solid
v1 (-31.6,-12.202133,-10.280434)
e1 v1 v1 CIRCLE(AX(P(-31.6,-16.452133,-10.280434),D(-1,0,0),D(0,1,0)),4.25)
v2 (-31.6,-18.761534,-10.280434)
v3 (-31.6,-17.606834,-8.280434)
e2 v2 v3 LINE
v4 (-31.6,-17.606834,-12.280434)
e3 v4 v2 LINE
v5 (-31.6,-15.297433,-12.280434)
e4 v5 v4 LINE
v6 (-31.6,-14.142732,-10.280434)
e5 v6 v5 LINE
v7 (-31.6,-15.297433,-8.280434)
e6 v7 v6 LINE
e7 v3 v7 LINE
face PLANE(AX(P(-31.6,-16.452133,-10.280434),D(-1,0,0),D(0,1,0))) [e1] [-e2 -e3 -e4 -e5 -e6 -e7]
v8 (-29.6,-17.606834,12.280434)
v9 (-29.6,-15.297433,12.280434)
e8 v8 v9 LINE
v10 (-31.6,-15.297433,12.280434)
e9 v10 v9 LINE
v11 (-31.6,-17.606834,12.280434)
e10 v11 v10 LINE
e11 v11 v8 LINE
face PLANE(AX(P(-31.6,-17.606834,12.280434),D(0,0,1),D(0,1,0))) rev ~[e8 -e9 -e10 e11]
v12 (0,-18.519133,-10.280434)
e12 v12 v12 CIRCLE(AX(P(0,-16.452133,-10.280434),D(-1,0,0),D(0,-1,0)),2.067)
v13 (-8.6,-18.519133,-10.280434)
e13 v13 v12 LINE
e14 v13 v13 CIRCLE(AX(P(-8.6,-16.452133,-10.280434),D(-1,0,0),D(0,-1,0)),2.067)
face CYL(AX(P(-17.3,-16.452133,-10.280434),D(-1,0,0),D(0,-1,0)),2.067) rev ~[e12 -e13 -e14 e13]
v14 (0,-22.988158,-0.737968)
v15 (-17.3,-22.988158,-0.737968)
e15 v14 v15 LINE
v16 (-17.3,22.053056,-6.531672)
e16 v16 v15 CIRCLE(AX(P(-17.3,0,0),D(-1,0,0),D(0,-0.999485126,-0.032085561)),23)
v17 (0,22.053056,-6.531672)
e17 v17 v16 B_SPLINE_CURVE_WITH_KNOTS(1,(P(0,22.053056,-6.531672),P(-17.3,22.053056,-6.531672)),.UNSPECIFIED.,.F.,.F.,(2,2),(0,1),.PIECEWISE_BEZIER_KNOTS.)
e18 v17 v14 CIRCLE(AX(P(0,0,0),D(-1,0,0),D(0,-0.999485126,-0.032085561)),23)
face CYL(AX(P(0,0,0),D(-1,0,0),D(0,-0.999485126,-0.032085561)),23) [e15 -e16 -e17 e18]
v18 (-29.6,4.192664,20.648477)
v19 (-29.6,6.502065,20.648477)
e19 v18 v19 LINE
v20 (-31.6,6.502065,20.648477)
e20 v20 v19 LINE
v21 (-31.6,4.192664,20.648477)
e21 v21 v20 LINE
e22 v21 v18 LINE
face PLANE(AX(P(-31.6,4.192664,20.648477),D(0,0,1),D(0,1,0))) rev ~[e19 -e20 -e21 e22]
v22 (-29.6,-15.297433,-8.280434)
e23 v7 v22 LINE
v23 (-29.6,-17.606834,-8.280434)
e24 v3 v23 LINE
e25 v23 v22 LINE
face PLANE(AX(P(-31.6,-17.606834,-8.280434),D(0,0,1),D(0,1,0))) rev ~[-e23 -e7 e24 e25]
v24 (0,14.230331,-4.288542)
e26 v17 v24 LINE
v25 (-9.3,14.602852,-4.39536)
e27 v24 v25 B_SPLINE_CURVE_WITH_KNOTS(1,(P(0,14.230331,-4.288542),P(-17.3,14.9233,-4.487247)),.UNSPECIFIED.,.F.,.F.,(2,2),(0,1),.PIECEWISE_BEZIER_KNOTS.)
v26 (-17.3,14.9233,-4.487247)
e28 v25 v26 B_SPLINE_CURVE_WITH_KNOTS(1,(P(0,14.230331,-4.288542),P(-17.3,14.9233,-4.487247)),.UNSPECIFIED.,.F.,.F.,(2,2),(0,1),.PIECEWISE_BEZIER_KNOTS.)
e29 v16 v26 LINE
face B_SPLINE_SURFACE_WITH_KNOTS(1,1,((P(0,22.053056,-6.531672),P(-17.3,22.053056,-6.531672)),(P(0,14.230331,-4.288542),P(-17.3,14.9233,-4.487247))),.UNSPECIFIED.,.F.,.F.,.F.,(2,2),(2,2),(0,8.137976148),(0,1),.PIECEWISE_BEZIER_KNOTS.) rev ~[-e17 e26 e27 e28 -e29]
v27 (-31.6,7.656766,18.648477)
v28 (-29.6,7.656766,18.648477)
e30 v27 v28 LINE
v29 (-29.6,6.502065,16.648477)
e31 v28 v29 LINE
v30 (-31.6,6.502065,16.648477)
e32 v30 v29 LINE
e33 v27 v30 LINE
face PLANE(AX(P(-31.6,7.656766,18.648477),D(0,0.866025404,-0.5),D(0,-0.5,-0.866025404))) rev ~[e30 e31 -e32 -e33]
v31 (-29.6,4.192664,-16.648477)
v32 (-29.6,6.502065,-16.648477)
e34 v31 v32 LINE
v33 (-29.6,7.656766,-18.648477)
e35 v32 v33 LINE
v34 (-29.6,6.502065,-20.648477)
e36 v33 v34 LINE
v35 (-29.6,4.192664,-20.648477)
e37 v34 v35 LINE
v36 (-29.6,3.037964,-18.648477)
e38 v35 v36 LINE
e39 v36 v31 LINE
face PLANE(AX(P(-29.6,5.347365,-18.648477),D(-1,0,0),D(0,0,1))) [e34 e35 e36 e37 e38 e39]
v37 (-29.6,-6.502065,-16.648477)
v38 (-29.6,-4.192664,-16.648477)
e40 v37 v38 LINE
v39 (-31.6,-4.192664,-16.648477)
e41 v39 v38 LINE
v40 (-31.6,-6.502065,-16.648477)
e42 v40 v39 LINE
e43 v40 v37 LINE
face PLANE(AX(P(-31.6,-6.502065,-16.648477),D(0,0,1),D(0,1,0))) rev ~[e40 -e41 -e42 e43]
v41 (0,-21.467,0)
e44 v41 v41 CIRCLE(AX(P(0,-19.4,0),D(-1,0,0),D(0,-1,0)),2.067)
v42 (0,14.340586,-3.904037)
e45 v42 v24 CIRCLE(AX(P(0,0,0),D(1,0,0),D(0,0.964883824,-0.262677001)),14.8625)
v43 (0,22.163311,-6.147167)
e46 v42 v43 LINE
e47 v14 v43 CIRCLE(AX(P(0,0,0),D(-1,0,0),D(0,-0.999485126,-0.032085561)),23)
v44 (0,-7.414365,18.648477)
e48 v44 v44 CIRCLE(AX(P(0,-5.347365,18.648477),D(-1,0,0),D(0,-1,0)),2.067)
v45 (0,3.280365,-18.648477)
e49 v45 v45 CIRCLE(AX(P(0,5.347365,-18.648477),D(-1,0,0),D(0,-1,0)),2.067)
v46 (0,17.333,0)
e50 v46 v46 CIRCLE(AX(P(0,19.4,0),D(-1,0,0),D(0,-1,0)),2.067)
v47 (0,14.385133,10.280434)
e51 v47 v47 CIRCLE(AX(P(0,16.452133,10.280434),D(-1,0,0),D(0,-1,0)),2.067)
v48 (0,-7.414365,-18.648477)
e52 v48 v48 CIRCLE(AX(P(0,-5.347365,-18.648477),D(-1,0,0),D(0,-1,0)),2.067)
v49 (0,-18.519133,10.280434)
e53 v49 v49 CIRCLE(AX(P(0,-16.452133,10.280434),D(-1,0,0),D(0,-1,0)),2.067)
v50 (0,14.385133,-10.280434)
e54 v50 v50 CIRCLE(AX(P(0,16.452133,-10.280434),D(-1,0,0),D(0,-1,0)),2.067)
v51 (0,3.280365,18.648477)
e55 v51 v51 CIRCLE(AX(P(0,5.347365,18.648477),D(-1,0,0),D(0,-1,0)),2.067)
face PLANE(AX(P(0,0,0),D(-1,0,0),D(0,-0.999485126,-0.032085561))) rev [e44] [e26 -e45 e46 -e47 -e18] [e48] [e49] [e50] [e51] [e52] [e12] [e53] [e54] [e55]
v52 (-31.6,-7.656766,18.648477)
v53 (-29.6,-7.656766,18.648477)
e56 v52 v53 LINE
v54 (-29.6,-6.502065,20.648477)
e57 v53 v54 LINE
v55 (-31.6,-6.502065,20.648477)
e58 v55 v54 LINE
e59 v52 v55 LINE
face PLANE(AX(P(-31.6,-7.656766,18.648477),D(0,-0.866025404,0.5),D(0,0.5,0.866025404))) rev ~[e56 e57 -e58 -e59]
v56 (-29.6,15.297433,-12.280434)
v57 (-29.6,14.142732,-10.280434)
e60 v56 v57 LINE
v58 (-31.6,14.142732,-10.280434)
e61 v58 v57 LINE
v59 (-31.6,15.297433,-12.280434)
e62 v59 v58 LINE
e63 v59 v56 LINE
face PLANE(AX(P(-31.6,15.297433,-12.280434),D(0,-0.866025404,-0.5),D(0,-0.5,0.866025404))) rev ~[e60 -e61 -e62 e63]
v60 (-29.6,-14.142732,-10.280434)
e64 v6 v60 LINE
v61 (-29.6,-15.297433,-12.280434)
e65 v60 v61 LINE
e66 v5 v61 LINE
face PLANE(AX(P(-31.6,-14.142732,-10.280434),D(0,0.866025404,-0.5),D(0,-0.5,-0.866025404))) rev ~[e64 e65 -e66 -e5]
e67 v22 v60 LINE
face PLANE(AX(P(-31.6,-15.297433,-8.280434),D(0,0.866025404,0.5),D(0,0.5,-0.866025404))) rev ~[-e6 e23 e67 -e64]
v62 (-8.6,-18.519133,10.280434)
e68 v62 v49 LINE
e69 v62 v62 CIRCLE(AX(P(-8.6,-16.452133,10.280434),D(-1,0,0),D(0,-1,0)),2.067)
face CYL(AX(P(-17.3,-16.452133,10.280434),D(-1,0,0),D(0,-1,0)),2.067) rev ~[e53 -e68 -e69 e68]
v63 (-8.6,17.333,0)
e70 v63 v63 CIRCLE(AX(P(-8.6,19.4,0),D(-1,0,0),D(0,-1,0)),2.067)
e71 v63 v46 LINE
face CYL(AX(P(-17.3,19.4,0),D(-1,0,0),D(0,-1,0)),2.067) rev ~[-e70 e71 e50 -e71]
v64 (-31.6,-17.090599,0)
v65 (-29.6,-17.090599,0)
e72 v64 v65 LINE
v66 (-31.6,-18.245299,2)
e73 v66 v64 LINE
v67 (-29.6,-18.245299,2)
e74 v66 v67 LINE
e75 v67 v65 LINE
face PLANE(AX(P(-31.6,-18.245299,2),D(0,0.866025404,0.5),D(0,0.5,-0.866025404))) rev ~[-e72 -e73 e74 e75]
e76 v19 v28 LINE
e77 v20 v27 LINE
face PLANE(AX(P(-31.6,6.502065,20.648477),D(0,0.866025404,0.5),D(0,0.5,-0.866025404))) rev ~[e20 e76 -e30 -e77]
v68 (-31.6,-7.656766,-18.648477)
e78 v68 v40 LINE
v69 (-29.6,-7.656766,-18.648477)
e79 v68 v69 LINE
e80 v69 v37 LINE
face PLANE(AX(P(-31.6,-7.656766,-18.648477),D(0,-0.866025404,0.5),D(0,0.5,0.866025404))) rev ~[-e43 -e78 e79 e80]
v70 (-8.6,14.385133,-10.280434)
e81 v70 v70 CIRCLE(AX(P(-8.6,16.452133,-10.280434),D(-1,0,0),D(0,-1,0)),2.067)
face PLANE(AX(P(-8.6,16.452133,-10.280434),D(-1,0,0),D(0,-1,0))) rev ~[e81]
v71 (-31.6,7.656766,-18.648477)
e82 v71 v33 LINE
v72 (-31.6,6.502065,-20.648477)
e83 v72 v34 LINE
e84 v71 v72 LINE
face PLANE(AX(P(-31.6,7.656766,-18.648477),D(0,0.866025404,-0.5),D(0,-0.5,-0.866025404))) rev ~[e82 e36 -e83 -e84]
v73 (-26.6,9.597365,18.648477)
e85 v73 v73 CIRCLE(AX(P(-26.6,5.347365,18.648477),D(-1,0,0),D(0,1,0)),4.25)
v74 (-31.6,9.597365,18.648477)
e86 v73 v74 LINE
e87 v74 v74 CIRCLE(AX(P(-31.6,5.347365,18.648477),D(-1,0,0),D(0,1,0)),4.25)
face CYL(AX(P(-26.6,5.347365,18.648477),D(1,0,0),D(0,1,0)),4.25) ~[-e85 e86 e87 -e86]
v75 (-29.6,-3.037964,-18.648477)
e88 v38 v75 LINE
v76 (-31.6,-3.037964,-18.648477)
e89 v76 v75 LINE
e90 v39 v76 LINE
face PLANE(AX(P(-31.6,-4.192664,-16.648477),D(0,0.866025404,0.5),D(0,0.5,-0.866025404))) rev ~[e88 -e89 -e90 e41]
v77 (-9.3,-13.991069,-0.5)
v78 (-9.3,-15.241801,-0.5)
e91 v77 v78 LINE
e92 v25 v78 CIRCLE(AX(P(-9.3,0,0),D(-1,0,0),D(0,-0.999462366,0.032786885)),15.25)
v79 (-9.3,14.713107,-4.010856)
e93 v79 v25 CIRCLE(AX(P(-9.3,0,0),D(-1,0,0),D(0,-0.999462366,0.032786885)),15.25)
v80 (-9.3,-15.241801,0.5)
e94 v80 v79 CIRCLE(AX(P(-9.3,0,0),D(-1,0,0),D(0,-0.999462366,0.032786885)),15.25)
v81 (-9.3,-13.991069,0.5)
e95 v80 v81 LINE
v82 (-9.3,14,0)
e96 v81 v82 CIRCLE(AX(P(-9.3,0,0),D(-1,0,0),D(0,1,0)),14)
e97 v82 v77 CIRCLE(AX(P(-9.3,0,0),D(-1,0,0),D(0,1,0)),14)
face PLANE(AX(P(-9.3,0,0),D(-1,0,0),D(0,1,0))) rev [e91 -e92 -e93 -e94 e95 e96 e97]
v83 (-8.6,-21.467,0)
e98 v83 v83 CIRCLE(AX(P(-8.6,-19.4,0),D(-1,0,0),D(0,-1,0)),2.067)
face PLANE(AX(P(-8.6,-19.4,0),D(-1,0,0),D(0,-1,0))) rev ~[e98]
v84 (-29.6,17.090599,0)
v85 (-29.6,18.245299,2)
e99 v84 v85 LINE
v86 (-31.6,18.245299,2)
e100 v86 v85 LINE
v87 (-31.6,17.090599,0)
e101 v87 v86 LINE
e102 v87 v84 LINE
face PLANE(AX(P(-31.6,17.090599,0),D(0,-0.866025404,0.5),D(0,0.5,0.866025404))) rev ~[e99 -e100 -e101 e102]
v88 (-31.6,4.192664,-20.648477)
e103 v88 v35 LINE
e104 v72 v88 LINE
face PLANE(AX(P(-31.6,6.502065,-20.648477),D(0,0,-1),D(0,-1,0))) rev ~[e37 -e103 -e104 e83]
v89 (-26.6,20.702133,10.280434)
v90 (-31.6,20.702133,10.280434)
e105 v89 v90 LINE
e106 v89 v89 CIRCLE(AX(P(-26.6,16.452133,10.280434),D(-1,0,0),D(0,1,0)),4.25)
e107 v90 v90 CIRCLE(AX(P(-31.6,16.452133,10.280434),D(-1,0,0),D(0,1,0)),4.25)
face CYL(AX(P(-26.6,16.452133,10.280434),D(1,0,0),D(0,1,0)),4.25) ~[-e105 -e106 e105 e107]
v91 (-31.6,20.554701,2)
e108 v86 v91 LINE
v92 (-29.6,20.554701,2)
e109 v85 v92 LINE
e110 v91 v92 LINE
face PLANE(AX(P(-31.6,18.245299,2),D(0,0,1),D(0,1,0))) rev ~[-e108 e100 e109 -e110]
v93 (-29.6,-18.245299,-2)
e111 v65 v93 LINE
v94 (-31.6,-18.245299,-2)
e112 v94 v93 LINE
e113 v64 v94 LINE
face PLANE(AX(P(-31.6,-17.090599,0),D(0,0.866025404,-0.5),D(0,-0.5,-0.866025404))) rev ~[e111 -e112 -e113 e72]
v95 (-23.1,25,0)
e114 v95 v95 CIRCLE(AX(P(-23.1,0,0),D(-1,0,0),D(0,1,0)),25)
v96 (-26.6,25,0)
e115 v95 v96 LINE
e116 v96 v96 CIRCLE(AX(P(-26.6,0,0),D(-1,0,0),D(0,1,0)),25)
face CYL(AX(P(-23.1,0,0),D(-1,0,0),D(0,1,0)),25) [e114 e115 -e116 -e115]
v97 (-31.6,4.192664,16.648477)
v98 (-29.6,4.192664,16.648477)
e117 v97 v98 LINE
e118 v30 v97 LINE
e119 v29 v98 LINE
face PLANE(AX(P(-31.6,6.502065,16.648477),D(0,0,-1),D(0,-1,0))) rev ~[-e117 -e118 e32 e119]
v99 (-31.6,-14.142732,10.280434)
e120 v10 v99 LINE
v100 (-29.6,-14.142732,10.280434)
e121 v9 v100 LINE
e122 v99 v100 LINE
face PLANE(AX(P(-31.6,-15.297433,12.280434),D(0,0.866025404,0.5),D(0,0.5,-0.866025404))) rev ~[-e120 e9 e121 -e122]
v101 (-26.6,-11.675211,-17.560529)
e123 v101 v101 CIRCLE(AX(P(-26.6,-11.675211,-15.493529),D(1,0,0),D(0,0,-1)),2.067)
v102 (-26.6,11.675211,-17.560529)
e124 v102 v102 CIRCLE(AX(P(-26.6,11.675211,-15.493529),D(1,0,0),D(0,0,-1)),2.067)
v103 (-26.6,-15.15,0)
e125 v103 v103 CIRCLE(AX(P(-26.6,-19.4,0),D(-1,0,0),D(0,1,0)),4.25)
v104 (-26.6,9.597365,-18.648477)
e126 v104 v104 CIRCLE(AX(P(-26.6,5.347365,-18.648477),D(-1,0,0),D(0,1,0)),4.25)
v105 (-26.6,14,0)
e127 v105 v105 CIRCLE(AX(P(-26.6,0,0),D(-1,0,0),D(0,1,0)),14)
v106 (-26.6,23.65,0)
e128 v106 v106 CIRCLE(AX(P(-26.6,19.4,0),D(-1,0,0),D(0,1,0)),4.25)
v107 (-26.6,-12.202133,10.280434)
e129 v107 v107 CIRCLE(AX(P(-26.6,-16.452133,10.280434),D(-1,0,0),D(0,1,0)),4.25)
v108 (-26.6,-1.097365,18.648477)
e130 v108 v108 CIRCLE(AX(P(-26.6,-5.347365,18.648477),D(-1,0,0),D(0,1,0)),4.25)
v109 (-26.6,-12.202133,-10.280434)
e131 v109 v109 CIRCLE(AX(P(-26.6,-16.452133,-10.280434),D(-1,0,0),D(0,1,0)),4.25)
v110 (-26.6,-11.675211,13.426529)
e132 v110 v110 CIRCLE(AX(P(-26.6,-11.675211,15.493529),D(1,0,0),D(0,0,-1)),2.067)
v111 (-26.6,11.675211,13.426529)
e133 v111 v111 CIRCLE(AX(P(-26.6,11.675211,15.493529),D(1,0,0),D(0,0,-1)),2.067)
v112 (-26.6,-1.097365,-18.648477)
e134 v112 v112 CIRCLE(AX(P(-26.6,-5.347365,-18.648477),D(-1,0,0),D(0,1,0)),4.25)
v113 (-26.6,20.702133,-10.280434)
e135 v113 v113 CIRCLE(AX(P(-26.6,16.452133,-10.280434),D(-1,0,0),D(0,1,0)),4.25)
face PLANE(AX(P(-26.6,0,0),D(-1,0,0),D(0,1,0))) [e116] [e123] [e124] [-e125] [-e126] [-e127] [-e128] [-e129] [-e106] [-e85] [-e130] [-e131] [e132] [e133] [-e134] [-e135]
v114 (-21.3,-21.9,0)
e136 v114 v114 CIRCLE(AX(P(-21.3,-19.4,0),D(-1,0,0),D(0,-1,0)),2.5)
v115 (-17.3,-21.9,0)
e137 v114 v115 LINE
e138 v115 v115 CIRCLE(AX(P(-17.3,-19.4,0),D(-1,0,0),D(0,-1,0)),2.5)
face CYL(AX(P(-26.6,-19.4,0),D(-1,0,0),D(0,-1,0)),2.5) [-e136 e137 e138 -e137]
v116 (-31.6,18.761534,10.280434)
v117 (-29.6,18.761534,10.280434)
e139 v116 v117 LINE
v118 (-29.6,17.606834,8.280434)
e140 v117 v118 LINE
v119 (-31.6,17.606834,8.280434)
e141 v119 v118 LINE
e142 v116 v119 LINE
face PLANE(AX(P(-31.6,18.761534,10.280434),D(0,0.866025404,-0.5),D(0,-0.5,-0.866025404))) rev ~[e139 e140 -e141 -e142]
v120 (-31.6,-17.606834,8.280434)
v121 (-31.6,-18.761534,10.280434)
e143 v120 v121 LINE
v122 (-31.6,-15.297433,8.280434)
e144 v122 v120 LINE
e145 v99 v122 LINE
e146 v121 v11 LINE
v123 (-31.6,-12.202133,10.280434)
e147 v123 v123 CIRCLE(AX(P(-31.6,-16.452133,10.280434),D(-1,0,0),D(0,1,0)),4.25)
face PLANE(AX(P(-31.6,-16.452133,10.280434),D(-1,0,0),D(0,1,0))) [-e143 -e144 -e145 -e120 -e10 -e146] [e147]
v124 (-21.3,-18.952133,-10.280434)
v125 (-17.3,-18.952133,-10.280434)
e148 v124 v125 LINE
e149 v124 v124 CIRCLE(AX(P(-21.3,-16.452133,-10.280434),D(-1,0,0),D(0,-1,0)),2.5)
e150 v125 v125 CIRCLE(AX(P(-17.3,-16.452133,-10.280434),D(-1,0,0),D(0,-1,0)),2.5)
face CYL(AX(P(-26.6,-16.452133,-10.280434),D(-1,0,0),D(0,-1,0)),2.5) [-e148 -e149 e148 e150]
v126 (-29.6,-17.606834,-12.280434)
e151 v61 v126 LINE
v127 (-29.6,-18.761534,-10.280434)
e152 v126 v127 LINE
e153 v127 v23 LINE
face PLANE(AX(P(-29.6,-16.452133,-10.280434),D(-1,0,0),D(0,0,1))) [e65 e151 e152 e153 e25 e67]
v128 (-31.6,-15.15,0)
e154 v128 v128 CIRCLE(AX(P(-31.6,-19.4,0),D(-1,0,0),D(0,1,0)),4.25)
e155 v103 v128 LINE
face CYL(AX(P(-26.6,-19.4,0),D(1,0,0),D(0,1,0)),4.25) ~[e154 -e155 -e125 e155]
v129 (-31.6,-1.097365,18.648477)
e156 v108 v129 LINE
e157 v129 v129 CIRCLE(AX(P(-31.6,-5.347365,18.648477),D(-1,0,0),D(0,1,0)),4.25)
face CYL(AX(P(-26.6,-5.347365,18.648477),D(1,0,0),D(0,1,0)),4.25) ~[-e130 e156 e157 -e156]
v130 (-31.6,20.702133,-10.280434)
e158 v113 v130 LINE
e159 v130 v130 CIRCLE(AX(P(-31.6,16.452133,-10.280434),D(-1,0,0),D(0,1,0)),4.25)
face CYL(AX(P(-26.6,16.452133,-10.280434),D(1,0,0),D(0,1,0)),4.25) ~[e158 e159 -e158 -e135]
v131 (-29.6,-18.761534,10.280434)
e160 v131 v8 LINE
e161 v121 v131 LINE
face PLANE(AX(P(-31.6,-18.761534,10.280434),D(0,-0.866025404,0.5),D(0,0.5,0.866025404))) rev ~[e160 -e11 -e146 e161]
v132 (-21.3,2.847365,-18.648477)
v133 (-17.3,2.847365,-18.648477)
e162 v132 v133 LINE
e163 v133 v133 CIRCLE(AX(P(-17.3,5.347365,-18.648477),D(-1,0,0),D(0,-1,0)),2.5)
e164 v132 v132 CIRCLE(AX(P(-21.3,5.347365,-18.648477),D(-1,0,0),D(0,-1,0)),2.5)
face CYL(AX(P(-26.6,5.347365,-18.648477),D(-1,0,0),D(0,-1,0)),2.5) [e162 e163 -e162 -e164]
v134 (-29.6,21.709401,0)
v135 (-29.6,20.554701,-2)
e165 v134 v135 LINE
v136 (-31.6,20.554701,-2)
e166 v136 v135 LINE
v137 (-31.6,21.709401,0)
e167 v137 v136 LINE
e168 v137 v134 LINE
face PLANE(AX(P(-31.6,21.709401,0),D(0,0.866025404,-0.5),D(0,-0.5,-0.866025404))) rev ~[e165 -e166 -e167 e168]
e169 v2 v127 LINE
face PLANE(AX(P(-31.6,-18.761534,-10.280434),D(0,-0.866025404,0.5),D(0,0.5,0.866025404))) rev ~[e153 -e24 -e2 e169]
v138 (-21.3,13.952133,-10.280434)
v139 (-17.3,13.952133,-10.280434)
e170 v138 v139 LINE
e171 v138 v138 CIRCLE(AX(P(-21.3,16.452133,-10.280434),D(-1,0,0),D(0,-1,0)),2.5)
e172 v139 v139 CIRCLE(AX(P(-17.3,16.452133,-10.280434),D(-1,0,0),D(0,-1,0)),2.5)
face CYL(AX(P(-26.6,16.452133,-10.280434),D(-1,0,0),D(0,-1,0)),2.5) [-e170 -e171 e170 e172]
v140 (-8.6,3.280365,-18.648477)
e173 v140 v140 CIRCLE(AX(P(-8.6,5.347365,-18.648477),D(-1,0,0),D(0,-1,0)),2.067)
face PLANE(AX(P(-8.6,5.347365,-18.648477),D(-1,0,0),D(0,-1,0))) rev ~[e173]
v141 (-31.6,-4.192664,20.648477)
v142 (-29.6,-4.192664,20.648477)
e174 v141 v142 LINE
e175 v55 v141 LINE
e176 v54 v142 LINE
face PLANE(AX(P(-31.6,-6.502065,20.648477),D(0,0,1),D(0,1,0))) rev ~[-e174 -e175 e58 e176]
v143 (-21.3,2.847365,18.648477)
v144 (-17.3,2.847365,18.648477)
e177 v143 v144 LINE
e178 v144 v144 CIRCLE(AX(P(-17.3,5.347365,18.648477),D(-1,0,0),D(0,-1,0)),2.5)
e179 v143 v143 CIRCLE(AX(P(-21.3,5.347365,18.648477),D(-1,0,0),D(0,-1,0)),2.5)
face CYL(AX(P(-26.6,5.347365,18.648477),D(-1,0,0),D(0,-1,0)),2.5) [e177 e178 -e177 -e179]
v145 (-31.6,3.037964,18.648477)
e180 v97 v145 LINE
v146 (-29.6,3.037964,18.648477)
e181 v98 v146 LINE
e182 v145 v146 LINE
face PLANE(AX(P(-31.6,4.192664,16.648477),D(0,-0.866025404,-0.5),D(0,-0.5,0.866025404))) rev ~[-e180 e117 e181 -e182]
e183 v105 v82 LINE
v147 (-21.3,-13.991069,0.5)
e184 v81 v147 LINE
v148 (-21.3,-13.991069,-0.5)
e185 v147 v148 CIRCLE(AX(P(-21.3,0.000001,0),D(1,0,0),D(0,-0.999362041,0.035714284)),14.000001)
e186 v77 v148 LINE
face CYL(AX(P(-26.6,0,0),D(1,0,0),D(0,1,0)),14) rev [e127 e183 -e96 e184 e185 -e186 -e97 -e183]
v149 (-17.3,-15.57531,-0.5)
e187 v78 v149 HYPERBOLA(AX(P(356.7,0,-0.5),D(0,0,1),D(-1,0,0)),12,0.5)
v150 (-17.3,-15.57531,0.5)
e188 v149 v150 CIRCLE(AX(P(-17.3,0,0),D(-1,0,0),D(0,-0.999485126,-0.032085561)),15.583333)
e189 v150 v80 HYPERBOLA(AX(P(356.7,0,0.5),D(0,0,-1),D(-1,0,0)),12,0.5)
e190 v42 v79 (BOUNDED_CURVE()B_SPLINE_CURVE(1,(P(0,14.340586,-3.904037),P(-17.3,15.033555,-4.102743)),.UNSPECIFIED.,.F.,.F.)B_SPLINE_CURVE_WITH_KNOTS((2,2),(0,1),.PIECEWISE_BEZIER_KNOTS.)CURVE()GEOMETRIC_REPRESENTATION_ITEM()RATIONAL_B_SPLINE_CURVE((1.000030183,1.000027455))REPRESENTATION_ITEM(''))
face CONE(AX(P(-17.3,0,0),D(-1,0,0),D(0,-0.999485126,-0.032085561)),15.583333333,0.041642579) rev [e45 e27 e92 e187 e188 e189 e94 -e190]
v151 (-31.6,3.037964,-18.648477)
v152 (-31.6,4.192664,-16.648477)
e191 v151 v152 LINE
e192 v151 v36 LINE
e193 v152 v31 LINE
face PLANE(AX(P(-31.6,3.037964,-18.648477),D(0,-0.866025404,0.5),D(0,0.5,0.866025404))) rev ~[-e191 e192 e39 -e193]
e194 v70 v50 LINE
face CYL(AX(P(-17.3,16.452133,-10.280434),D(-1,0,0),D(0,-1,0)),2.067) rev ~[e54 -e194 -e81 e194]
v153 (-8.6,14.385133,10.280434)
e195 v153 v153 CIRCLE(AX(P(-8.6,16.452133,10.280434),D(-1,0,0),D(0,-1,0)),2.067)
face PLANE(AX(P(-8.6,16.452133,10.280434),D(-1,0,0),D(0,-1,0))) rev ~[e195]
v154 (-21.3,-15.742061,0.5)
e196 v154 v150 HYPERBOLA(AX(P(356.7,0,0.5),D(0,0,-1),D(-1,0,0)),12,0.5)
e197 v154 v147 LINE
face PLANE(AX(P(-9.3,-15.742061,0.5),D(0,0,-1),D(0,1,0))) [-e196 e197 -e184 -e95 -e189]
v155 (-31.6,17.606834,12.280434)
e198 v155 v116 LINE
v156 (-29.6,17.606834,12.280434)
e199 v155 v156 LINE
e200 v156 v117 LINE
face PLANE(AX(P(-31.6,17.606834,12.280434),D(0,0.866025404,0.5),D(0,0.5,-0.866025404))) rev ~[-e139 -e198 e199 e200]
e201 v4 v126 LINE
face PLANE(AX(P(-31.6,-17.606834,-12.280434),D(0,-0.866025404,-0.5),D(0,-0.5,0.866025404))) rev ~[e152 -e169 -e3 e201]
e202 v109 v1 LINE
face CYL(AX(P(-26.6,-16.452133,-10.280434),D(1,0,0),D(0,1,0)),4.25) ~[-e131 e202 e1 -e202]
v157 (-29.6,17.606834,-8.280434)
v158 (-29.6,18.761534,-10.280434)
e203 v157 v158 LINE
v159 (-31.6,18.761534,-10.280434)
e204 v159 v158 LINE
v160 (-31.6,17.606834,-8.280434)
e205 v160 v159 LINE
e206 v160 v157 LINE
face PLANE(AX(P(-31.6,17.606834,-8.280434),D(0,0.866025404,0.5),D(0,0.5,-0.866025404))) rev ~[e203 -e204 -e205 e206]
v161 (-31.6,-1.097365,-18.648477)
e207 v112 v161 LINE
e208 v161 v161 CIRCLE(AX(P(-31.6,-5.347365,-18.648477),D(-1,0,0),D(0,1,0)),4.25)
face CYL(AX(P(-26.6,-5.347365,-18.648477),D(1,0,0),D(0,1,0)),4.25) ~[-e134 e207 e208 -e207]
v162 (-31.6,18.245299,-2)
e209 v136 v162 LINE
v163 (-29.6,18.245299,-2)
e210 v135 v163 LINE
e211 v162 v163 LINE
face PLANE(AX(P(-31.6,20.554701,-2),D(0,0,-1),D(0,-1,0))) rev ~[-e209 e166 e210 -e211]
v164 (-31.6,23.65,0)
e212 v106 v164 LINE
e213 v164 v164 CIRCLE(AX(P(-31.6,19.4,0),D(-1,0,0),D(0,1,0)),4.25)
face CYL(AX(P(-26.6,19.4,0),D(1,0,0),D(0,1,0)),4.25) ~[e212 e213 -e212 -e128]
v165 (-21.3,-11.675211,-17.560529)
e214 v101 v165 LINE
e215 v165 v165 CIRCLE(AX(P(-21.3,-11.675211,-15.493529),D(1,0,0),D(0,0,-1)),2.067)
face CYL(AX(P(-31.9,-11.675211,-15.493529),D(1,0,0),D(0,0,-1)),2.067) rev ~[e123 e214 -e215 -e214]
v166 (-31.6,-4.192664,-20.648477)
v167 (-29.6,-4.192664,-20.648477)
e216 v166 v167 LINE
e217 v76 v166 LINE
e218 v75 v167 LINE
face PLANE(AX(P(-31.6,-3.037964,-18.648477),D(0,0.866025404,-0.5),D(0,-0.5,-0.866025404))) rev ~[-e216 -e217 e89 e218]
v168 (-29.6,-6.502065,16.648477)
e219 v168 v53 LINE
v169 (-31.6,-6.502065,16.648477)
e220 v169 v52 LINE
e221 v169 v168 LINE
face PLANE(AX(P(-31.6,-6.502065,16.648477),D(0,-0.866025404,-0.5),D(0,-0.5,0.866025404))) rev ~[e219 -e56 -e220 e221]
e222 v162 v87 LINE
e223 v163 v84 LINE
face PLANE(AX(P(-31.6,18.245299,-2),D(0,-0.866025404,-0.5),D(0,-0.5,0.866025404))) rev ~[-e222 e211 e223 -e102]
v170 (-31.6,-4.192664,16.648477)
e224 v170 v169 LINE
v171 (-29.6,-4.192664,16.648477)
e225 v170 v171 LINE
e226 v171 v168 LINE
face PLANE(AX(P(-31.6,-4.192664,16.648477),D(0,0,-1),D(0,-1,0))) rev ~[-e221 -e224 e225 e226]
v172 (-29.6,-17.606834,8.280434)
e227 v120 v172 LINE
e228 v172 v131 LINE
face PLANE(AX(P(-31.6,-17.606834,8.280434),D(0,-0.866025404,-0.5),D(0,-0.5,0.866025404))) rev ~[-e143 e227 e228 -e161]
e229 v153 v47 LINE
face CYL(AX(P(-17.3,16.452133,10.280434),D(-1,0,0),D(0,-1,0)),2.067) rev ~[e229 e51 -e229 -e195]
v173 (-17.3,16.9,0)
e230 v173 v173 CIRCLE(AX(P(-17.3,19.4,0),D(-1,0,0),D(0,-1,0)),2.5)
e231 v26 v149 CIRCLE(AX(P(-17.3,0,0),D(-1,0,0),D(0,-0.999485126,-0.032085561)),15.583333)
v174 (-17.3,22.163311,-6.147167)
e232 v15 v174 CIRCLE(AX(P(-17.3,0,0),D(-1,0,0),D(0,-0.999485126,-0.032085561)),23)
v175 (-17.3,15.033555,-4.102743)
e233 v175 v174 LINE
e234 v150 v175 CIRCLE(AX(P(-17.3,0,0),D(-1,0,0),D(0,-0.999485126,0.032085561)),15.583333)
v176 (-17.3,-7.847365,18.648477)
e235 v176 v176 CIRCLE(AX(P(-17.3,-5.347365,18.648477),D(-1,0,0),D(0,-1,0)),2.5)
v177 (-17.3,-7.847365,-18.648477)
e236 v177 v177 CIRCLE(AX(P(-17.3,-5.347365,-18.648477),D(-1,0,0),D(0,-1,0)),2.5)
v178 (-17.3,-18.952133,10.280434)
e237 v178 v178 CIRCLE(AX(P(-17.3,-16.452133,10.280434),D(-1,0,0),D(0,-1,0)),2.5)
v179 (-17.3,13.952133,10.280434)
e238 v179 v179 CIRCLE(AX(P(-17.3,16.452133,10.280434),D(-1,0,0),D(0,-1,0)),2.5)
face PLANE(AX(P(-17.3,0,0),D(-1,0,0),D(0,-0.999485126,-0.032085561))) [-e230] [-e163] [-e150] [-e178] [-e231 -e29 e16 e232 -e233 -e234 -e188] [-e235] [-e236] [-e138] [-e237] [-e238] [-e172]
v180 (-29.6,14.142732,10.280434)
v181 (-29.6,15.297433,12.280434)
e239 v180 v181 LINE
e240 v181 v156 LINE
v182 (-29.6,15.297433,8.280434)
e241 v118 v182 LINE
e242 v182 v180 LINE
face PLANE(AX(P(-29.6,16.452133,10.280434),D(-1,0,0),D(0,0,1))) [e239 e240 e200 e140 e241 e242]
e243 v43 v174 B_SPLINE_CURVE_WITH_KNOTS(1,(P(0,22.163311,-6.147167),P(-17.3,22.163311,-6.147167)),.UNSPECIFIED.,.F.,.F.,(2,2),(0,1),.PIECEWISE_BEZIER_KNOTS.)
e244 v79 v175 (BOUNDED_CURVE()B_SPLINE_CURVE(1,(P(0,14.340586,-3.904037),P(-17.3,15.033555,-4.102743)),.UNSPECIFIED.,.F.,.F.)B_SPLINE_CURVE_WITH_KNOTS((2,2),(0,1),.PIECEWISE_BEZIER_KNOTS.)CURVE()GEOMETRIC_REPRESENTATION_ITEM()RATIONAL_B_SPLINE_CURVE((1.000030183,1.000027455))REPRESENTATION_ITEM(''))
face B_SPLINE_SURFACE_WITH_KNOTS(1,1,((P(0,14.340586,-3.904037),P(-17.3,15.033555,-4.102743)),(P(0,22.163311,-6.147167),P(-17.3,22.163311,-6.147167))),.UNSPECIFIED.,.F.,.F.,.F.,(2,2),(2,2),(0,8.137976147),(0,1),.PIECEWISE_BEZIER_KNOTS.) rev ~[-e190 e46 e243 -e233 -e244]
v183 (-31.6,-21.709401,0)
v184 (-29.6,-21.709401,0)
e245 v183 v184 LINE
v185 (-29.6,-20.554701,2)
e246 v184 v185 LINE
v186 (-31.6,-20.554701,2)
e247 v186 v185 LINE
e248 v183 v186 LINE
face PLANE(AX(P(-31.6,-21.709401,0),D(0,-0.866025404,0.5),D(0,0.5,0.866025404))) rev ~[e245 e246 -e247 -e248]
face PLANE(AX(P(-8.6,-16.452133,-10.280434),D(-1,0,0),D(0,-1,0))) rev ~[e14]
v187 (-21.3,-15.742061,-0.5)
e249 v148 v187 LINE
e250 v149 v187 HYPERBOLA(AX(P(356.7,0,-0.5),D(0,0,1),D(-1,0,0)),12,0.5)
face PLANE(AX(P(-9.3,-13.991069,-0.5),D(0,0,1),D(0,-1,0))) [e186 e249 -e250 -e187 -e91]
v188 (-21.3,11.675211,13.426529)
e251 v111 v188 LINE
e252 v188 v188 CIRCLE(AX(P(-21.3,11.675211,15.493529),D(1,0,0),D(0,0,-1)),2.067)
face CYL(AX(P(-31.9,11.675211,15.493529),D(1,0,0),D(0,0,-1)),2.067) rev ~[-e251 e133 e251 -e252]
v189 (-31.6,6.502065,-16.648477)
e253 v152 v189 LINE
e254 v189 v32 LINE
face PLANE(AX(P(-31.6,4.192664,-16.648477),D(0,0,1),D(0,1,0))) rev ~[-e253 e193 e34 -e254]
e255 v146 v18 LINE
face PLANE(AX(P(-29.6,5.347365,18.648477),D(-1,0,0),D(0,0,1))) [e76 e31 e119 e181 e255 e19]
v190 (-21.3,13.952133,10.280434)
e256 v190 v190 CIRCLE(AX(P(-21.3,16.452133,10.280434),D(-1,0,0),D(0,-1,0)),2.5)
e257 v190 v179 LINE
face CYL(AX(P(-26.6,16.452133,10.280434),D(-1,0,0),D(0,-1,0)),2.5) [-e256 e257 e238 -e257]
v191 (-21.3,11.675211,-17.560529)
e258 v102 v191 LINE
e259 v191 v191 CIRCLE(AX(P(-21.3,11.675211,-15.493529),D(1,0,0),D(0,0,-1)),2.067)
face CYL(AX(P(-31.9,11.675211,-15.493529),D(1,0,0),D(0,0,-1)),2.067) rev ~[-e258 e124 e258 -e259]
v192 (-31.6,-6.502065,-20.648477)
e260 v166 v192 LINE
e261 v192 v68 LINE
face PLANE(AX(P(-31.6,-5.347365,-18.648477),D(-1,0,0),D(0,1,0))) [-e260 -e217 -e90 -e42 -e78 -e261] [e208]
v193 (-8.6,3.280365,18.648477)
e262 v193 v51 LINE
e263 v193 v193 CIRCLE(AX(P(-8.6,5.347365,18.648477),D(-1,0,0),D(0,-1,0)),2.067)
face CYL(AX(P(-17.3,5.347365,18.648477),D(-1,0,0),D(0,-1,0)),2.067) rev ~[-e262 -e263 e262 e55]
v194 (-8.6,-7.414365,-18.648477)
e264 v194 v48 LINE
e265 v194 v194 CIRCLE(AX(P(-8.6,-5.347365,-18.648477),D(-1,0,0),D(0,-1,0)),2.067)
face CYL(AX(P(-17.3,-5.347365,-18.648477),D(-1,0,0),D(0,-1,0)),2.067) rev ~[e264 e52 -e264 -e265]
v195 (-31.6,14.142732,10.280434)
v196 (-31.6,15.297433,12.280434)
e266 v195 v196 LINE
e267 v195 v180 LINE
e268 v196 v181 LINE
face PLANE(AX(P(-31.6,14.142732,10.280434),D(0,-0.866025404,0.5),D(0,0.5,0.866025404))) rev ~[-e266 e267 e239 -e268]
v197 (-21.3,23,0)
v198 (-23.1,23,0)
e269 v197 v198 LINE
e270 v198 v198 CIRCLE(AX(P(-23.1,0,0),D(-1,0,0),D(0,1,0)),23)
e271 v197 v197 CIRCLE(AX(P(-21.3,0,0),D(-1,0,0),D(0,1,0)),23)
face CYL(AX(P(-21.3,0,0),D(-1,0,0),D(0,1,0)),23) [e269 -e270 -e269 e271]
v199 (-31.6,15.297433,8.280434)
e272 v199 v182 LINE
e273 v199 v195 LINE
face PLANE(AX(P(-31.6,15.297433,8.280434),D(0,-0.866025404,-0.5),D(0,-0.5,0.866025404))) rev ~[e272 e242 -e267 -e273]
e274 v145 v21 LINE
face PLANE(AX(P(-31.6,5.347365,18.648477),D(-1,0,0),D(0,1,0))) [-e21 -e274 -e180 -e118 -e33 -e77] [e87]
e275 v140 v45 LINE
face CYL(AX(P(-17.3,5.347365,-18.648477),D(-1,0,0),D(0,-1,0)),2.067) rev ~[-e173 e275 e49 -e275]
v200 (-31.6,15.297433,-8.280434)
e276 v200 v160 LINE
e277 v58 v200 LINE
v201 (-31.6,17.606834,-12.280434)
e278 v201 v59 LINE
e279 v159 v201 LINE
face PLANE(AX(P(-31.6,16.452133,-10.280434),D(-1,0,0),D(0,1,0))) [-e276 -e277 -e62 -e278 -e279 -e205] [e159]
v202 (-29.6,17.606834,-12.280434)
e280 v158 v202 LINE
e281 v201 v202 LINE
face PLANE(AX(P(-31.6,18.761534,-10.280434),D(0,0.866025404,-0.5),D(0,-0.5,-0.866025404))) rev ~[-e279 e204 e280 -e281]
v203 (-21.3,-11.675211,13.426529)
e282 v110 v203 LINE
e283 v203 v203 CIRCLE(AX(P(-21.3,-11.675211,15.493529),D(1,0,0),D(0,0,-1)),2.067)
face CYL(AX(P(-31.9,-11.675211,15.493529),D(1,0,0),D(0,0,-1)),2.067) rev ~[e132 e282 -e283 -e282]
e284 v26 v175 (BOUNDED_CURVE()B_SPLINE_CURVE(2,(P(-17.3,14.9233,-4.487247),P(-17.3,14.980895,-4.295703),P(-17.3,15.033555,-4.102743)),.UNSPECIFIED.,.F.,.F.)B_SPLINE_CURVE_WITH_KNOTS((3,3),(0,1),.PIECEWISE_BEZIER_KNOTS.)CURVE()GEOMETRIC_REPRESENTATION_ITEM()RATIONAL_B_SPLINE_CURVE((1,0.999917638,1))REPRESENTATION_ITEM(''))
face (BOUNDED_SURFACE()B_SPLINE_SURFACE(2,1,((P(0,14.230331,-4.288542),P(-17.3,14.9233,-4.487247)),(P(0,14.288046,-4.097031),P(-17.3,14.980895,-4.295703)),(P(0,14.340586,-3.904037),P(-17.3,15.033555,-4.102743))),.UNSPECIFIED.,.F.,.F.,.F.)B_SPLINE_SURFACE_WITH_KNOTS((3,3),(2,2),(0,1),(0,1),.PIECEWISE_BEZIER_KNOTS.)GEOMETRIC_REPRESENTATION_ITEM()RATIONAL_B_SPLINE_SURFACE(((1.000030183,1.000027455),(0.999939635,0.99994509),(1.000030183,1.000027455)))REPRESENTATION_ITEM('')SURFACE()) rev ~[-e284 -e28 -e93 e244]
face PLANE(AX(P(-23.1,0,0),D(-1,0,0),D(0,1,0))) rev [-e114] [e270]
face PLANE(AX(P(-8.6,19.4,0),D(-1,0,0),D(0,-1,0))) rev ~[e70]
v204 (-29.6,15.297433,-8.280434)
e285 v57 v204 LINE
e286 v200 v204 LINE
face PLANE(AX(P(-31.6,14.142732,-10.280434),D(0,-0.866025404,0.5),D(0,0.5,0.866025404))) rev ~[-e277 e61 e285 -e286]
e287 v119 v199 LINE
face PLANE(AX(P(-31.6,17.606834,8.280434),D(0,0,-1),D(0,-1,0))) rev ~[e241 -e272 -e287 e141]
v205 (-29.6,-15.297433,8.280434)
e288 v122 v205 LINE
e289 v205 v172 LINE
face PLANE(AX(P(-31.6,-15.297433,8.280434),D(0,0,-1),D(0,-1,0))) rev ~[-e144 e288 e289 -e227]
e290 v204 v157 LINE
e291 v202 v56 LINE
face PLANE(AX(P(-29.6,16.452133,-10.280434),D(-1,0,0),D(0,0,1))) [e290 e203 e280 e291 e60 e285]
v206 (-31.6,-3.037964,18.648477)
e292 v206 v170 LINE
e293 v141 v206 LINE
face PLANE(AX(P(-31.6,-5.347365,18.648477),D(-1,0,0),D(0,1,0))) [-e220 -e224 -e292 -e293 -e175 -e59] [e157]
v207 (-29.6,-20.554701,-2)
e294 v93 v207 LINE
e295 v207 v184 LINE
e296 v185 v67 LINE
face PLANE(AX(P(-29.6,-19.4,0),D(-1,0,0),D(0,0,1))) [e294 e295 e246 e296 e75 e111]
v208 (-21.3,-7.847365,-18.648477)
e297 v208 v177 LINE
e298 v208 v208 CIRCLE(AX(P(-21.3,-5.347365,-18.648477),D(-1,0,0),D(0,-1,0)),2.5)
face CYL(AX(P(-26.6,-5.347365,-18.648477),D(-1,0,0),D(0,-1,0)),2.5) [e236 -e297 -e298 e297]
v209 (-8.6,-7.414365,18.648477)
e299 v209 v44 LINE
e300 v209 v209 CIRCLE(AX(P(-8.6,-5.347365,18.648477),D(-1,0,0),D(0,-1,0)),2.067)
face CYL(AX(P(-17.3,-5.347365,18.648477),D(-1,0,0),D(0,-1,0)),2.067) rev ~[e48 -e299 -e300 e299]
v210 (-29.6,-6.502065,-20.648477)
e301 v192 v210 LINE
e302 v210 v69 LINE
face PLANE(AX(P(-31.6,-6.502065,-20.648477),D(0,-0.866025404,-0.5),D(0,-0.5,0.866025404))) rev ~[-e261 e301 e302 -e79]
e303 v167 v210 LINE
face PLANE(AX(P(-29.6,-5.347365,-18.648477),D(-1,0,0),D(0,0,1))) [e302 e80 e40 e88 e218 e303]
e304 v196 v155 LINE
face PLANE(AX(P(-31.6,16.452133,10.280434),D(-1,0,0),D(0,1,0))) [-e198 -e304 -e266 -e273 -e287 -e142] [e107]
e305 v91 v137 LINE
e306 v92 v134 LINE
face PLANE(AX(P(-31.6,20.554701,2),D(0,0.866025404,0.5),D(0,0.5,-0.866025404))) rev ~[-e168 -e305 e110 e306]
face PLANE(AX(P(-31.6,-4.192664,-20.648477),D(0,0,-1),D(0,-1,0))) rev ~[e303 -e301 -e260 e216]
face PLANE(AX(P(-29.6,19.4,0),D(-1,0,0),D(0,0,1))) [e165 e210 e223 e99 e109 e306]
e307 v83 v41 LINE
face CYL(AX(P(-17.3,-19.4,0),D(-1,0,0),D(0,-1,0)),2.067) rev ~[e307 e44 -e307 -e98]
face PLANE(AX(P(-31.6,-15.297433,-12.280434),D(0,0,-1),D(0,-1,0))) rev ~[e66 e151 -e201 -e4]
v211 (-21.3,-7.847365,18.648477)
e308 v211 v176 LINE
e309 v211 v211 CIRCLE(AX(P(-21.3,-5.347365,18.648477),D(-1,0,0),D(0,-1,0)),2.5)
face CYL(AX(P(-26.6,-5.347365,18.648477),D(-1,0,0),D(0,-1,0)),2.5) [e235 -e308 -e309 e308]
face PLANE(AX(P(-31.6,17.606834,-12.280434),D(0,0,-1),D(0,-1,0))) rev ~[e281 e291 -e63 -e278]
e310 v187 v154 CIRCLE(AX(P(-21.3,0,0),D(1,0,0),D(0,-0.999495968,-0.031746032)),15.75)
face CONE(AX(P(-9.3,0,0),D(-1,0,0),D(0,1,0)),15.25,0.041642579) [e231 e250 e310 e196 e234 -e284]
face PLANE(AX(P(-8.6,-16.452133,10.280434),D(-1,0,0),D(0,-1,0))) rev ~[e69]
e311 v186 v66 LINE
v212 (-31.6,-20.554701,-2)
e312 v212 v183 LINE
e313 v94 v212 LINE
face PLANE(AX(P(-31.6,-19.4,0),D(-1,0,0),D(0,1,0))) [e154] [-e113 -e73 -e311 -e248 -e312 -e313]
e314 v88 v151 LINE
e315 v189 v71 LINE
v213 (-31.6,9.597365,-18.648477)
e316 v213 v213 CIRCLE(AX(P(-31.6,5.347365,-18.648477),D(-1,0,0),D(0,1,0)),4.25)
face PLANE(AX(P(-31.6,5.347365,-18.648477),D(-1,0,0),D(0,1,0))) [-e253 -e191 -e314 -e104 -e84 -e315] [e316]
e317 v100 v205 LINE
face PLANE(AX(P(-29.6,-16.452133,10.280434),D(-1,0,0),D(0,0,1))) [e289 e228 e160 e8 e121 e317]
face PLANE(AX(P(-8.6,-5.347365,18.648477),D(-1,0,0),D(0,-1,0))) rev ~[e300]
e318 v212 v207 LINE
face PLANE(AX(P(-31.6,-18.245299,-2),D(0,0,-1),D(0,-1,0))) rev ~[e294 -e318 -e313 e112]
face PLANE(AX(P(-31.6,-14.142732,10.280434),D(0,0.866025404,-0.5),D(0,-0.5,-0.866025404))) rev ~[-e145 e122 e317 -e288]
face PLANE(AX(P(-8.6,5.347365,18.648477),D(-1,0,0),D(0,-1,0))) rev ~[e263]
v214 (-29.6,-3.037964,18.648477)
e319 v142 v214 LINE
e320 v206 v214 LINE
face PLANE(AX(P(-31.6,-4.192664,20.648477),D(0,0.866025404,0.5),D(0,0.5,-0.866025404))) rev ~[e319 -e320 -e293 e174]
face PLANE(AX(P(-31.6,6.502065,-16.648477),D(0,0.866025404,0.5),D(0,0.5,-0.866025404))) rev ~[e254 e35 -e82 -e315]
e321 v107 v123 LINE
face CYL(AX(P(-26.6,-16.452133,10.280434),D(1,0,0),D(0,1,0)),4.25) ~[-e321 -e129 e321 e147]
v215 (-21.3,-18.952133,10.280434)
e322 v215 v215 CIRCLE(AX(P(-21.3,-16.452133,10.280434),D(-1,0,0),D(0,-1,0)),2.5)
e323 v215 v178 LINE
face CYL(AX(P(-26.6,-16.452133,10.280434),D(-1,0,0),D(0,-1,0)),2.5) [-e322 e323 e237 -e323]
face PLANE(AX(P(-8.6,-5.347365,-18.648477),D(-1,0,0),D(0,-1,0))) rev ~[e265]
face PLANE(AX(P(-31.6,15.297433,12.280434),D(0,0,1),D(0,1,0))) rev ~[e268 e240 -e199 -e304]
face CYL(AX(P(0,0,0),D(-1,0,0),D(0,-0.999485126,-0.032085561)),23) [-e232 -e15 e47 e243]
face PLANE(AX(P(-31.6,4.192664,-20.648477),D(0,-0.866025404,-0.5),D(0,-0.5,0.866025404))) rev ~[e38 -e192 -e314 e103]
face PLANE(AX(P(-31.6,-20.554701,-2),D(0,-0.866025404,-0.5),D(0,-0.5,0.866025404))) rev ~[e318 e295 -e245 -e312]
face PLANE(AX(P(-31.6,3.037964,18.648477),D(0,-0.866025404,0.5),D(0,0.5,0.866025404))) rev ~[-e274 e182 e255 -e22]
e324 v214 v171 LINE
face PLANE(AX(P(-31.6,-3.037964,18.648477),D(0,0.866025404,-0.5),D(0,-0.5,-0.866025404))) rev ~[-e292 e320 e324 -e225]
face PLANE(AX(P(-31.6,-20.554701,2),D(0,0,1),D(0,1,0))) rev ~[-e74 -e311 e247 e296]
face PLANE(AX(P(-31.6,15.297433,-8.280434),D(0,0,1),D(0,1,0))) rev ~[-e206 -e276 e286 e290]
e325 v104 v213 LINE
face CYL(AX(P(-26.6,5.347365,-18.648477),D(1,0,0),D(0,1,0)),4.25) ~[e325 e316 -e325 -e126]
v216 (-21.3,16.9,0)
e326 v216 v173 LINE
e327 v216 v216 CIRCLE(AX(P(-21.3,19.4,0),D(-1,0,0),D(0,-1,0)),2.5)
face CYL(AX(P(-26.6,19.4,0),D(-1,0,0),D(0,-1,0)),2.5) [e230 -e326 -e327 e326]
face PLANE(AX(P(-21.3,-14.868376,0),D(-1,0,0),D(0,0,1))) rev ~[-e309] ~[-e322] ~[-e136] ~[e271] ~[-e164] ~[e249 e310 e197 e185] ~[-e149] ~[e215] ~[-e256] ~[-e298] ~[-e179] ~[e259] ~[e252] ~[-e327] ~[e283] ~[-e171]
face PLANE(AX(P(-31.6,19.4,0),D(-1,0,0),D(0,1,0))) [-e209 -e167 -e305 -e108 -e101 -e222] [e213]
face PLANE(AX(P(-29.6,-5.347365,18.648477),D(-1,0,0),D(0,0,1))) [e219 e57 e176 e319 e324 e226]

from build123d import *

# Parameters (mm, degrees)
CUT_EXTRUDE1_DEPTH  = 12
SKETCH6_R           = 4.25
BOSS_EXTRUDE1_DEPTH = 5
SKETCH7_R           = 2.067
CUT_EXTRUDE2_DEPTH  = 40.361021372
SKETCH8_R           = 2.5
BOSS_EXTRUDE2_DEPTH = 18
CUT_EXTRUDE3_DEPTH  = 2
TAP1_D              = 4.134
TAP1_DEPTH          = 5.3


with BuildPart() as part:
    # Sketch1 → Revolve1 (revolve)
    with BuildSketch(Plane.XY, mode=Mode.PRIVATE) as revolve1_sk:
        Polygon((-26.6, -14), (-9.3, -14), (-9.3, -15.25), (-21.3, -15.75), (-21.3, -23), (-23.1, -23), (-23.1, -25), (-26.6, -25), align=None)
    revolve(revolve1_sk.sketch.rotate(Axis((0, 0, 0), (-1, 0, 0)), 180), axis=Axis((0, 0, 0), (-1, 0, 0)))

    # Sketch2 → Cut-Extrude1 (cut)
    with BuildSketch(Plane(origin=(-9.3, 0, 0), x_dir=(0, 0, -1), z_dir=(1, 0, 0))):
        with BuildLine():
            Line((0.5, -13.99106858), (0.5, -15.742061491))
            ThreePointArc((0.5, -15.742061491), (0, -15.75), (-0.5, -15.742061491))
            Line((-0.5, -15.742061491), (-0.5, -13.99106858))
            ThreePointArc((-0.5, -13.99106858), (0, -14), (0.5, -13.99106858))
        make_face()
    extrude(amount=-CUT_EXTRUDE1_DEPTH, mode=Mode.SUBTRACT)

    # Sketch3 → Revolve2 (revolve)
    with BuildSketch(Plane.XY, mode=Mode.PRIVATE) as revolve2_sk:
        Polygon((-17.3, -15.583333333), (0, -14.8625), (0, -23), (-17.3, -23), align=None)
    revolve(revolve2_sk.sketch.rotate(Axis((0, 0, 0), (-1, 0, 0)), 358.161317169), axis=Axis((0, 0, 0), (-1, 0, 0)))

    # Sketch4 for Cut-Loft1 → Cut-Loft1 section 0
    with BuildSketch(Plane(origin=(0, 0, 0), x_dir=(0, 0, -1), z_dir=(1, 0, 0))):
        with BuildLine():
            Line((6.531671834, 22.05305564), (4.288541607, 14.230330886))
            # circular arc as an exact rational Bezier (weights 1, cos(half-angle), 1)
            Bezier((4.288541607, 14.230330886), (4.097031168, 14.288045671), (3.904036928, 14.340585829), weights=[1, 0.999909455, 1])
            Line((3.904036928, 14.340585829), (6.147167155, 22.163310582))
            Bezier((6.147167155, 22.163310582), (6.339898882, 22.109854934), (6.531671834, 22.05305564), weights=[1, 0.999962192, 1])
        make_face()
    # Sketch5 for Cut-Loft1 → Cut-Loft1 section 1
    with BuildSketch(Plane.ZY.offset(17.3)):
        with BuildLine():
            Line((-6.531671834, 22.05305564), (-4.48724736, 14.923300202))
            Bezier((-4.48724736, 14.923300202), (-4.295702598, 14.980895286), (-4.102742682, 15.033555144), weights=[1, 0.999917638, 1])
            Line((-4.102742682, 15.033555144), (-6.147167155, 22.163310582))
            Bezier((-6.147167155, 22.163310582), (-6.339898882, 22.109854934), (-6.531671834, 22.05305564), weights=[1, 0.999962192, 1])
        make_face()
    loft(mode=Mode.SUBTRACT)

    # Sketch6 → Boss-Extrude1 (add)
    with BuildSketch(Plane.ZY.offset(26.6)):
        with Locations(Location((0, 19.4, 0), (0, 0, 90))):
            Circle(SKETCH6_R)
        with Locations(Location((10.280433726, -16.452133065, 0), (0, 0, 90))):
            Circle(SKETCH6_R)
        with Locations(Location((0, -19.4, 0), (0, 0, 90))):
            Circle(SKETCH6_R)
        with Locations(Location((-10.280433726, 16.452133065, 0), (0, 0, 90))):
            Circle(SKETCH6_R)
        with Locations(Location((10.280433726, 16.452133065, 0), (0, 0, 90))):
            Circle(SKETCH6_R)
        with Locations(Location((-10.280433726, -16.452133065, 0), (0, 0, 90))):
            Circle(SKETCH6_R)
        with Locations(Location((-18.648476901, 5.347364703, 0), (0, 0, 90))):
            Circle(SKETCH6_R)
        with Locations(Location((18.648476901, -5.347364703, 0), (0, 0, 90))):
            Circle(SKETCH6_R)
        with Locations(Location((18.648476901, 5.347364703, 0), (0, 0, 90))):
            Circle(SKETCH6_R)
        with Locations(Location((-18.648476901, -5.347364703, 0), (0, 0, 90))):
            Circle(SKETCH6_R)
    extrude(amount=BOSS_EXTRUDE1_DEPTH)

    # Sketch7 → Cut-Extrude2 (cut, through all)
    with BuildSketch(Plane.ZY.offset(17.3)):
        with Locations(Location((0, 19.4, 0), (0, 0, 270))):
            Circle(SKETCH7_R)
        with Locations(Location((10.280433726, -16.452133065, 0), (0, 0, 270))):
            Circle(SKETCH7_R)
        with Locations(Location((0, -19.4, 0), (0, 0, 270))):
            Circle(SKETCH7_R)
        with Locations(Location((-10.280433726, 16.452133065, 0), (0, 0, 270))):
            Circle(SKETCH7_R)
        with Locations(Location((10.280433726, 16.452133065, 0), (0, 0, 270))):
            Circle(SKETCH7_R)
        with Locations(Location((-10.280433726, -16.452133065, 0), (0, 0, 270))):
            Circle(SKETCH7_R)
        with Locations(Location((-18.648476901, 5.347364703, 0), (0, 0, 270))):
            Circle(SKETCH7_R)
        with Locations(Location((18.648476901, -5.347364703, 0), (0, 0, 270))):
            Circle(SKETCH7_R)
        with Locations(Location((18.648476901, 5.347364703, 0), (0, 0, 270))):
            Circle(SKETCH7_R)
        with Locations(Location((-18.648476901, -5.347364703, 0), (0, 0, 270))):
            Circle(SKETCH7_R)
    extrude(amount=-CUT_EXTRUDE2_DEPTH, mode=Mode.SUBTRACT)

    # Sketch8 → Boss-Extrude2 (add)
    with BuildSketch(Plane.ZY.offset(26.6)):
        with Locations(Location((0, 19.4, 0), (0, 0, 270))):
            Circle(SKETCH8_R)
        with Locations(Location((10.280433726, -16.452133065, 0), (0, 0, 270))):
            Circle(SKETCH8_R)
        with Locations(Location((0, -19.4, 0), (0, 0, 270))):
            Circle(SKETCH8_R)
        with Locations(Location((-10.280433726, 16.452133065, 0), (0, 0, 270))):
            Circle(SKETCH8_R)
        with Locations(Location((10.280433726, 16.452133065, 0), (0, 0, 270))):
            Circle(SKETCH8_R)
        with Locations(Location((-10.280433726, -16.452133065, 0), (0, 0, 270))):
            Circle(SKETCH8_R)
        with Locations(Location((-18.648476901, 5.347364703, 0), (0, 0, 270))):
            Circle(SKETCH8_R)
        with Locations(Location((18.648476901, -5.347364703, 0), (0, 0, 270))):
            Circle(SKETCH8_R)
        with Locations(Location((18.648476901, 5.347364703, 0), (0, 0, 270))):
            Circle(SKETCH8_R)
        with Locations(Location((-18.648476901, -5.347364703, 0), (0, 0, 270))):
            Circle(SKETCH8_R)
    extrude(amount=-BOSS_EXTRUDE2_DEPTH)

    # Sketch9 → Cut-Extrude3 (cut)
    with BuildSketch(Plane.ZY.offset(31.6)):
        Polygon((0, 21.709401077), (-2, 20.554700538), (-2, 18.245299462), (0, 17.090598923), (2, 18.245299462), (2, 20.554700538), align=None)
        Polygon((10.280433726, -14.142731989), (8.280433726, -15.297432527), (8.280433726, -17.606833604), (10.280433726, -18.761534142), (12.280433726, -17.606833604), (12.280433726, -15.297432527), align=None)
        Polygon((0, -17.090598923), (-2, -18.245299462), (-2, -20.554700538), (0, -21.709401077), (2, -20.554700538), (2, -18.245299462), align=None)
        Polygon((-10.280433726, 18.761534142), (-12.280433726, 17.606833604), (-12.280433726, 15.297432527), (-10.280433726, 14.142731989), (-8.280433726, 15.297432527), (-8.280433726, 17.606833604), align=None)
        Polygon((10.280433726, 18.761534142), (8.280433726, 17.606833604), (8.280433726, 15.297432527), (10.280433726, 14.142731989), (12.280433726, 15.297432527), (12.280433726, 17.606833604), align=None)
        Polygon((-10.280433726, -14.142731989), (-12.280433726, -15.297432527), (-12.280433726, -17.606833604), (-10.280433726, -18.761534142), (-8.280433726, -17.606833604), (-8.280433726, -15.297432527), align=None)
        Polygon((-18.648476901, 7.65676578), (-20.648476901, 6.502065241), (-20.648476901, 4.192664164), (-18.648476901, 3.037963626), (-16.648476901, 4.192664164), (-16.648476901, 6.502065241), align=None)
        Polygon((18.648476901, -3.037963626), (16.648476901, -4.192664164), (16.648476901, -6.502065241), (18.648476901, -7.65676578), (20.648476901, -6.502065241), (20.648476901, -4.192664164), align=None)
        Polygon((18.648476901, 7.65676578), (16.648476901, 6.502065241), (16.648476901, 4.192664164), (18.648476901, 3.037963626), (20.648476901, 4.192664164), (20.648476901, 6.502065241), align=None)
        Polygon((-18.648476901, -3.037963626), (-20.648476901, -4.192664164), (-20.648476901, -6.502065241), (-18.648476901, -7.65676578), (-16.648476901, -6.502065241), (-16.648476901, -4.192664164), align=None)
    extrude(amount=-CUT_EXTRUDE3_DEPTH, mode=Mode.SUBTRACT)

    # Tap1
    with Locations(Plane.ZY.offset(26.6)):
        with Locations((15.493528895, 11.675211449), (-15.493528895, -11.675211449), (-15.493528895, 11.675211449), (15.493528895, -11.675211449)):
            Hole(TAP1_D / 2, depth=TAP1_DEPTH)


solid = part.part
